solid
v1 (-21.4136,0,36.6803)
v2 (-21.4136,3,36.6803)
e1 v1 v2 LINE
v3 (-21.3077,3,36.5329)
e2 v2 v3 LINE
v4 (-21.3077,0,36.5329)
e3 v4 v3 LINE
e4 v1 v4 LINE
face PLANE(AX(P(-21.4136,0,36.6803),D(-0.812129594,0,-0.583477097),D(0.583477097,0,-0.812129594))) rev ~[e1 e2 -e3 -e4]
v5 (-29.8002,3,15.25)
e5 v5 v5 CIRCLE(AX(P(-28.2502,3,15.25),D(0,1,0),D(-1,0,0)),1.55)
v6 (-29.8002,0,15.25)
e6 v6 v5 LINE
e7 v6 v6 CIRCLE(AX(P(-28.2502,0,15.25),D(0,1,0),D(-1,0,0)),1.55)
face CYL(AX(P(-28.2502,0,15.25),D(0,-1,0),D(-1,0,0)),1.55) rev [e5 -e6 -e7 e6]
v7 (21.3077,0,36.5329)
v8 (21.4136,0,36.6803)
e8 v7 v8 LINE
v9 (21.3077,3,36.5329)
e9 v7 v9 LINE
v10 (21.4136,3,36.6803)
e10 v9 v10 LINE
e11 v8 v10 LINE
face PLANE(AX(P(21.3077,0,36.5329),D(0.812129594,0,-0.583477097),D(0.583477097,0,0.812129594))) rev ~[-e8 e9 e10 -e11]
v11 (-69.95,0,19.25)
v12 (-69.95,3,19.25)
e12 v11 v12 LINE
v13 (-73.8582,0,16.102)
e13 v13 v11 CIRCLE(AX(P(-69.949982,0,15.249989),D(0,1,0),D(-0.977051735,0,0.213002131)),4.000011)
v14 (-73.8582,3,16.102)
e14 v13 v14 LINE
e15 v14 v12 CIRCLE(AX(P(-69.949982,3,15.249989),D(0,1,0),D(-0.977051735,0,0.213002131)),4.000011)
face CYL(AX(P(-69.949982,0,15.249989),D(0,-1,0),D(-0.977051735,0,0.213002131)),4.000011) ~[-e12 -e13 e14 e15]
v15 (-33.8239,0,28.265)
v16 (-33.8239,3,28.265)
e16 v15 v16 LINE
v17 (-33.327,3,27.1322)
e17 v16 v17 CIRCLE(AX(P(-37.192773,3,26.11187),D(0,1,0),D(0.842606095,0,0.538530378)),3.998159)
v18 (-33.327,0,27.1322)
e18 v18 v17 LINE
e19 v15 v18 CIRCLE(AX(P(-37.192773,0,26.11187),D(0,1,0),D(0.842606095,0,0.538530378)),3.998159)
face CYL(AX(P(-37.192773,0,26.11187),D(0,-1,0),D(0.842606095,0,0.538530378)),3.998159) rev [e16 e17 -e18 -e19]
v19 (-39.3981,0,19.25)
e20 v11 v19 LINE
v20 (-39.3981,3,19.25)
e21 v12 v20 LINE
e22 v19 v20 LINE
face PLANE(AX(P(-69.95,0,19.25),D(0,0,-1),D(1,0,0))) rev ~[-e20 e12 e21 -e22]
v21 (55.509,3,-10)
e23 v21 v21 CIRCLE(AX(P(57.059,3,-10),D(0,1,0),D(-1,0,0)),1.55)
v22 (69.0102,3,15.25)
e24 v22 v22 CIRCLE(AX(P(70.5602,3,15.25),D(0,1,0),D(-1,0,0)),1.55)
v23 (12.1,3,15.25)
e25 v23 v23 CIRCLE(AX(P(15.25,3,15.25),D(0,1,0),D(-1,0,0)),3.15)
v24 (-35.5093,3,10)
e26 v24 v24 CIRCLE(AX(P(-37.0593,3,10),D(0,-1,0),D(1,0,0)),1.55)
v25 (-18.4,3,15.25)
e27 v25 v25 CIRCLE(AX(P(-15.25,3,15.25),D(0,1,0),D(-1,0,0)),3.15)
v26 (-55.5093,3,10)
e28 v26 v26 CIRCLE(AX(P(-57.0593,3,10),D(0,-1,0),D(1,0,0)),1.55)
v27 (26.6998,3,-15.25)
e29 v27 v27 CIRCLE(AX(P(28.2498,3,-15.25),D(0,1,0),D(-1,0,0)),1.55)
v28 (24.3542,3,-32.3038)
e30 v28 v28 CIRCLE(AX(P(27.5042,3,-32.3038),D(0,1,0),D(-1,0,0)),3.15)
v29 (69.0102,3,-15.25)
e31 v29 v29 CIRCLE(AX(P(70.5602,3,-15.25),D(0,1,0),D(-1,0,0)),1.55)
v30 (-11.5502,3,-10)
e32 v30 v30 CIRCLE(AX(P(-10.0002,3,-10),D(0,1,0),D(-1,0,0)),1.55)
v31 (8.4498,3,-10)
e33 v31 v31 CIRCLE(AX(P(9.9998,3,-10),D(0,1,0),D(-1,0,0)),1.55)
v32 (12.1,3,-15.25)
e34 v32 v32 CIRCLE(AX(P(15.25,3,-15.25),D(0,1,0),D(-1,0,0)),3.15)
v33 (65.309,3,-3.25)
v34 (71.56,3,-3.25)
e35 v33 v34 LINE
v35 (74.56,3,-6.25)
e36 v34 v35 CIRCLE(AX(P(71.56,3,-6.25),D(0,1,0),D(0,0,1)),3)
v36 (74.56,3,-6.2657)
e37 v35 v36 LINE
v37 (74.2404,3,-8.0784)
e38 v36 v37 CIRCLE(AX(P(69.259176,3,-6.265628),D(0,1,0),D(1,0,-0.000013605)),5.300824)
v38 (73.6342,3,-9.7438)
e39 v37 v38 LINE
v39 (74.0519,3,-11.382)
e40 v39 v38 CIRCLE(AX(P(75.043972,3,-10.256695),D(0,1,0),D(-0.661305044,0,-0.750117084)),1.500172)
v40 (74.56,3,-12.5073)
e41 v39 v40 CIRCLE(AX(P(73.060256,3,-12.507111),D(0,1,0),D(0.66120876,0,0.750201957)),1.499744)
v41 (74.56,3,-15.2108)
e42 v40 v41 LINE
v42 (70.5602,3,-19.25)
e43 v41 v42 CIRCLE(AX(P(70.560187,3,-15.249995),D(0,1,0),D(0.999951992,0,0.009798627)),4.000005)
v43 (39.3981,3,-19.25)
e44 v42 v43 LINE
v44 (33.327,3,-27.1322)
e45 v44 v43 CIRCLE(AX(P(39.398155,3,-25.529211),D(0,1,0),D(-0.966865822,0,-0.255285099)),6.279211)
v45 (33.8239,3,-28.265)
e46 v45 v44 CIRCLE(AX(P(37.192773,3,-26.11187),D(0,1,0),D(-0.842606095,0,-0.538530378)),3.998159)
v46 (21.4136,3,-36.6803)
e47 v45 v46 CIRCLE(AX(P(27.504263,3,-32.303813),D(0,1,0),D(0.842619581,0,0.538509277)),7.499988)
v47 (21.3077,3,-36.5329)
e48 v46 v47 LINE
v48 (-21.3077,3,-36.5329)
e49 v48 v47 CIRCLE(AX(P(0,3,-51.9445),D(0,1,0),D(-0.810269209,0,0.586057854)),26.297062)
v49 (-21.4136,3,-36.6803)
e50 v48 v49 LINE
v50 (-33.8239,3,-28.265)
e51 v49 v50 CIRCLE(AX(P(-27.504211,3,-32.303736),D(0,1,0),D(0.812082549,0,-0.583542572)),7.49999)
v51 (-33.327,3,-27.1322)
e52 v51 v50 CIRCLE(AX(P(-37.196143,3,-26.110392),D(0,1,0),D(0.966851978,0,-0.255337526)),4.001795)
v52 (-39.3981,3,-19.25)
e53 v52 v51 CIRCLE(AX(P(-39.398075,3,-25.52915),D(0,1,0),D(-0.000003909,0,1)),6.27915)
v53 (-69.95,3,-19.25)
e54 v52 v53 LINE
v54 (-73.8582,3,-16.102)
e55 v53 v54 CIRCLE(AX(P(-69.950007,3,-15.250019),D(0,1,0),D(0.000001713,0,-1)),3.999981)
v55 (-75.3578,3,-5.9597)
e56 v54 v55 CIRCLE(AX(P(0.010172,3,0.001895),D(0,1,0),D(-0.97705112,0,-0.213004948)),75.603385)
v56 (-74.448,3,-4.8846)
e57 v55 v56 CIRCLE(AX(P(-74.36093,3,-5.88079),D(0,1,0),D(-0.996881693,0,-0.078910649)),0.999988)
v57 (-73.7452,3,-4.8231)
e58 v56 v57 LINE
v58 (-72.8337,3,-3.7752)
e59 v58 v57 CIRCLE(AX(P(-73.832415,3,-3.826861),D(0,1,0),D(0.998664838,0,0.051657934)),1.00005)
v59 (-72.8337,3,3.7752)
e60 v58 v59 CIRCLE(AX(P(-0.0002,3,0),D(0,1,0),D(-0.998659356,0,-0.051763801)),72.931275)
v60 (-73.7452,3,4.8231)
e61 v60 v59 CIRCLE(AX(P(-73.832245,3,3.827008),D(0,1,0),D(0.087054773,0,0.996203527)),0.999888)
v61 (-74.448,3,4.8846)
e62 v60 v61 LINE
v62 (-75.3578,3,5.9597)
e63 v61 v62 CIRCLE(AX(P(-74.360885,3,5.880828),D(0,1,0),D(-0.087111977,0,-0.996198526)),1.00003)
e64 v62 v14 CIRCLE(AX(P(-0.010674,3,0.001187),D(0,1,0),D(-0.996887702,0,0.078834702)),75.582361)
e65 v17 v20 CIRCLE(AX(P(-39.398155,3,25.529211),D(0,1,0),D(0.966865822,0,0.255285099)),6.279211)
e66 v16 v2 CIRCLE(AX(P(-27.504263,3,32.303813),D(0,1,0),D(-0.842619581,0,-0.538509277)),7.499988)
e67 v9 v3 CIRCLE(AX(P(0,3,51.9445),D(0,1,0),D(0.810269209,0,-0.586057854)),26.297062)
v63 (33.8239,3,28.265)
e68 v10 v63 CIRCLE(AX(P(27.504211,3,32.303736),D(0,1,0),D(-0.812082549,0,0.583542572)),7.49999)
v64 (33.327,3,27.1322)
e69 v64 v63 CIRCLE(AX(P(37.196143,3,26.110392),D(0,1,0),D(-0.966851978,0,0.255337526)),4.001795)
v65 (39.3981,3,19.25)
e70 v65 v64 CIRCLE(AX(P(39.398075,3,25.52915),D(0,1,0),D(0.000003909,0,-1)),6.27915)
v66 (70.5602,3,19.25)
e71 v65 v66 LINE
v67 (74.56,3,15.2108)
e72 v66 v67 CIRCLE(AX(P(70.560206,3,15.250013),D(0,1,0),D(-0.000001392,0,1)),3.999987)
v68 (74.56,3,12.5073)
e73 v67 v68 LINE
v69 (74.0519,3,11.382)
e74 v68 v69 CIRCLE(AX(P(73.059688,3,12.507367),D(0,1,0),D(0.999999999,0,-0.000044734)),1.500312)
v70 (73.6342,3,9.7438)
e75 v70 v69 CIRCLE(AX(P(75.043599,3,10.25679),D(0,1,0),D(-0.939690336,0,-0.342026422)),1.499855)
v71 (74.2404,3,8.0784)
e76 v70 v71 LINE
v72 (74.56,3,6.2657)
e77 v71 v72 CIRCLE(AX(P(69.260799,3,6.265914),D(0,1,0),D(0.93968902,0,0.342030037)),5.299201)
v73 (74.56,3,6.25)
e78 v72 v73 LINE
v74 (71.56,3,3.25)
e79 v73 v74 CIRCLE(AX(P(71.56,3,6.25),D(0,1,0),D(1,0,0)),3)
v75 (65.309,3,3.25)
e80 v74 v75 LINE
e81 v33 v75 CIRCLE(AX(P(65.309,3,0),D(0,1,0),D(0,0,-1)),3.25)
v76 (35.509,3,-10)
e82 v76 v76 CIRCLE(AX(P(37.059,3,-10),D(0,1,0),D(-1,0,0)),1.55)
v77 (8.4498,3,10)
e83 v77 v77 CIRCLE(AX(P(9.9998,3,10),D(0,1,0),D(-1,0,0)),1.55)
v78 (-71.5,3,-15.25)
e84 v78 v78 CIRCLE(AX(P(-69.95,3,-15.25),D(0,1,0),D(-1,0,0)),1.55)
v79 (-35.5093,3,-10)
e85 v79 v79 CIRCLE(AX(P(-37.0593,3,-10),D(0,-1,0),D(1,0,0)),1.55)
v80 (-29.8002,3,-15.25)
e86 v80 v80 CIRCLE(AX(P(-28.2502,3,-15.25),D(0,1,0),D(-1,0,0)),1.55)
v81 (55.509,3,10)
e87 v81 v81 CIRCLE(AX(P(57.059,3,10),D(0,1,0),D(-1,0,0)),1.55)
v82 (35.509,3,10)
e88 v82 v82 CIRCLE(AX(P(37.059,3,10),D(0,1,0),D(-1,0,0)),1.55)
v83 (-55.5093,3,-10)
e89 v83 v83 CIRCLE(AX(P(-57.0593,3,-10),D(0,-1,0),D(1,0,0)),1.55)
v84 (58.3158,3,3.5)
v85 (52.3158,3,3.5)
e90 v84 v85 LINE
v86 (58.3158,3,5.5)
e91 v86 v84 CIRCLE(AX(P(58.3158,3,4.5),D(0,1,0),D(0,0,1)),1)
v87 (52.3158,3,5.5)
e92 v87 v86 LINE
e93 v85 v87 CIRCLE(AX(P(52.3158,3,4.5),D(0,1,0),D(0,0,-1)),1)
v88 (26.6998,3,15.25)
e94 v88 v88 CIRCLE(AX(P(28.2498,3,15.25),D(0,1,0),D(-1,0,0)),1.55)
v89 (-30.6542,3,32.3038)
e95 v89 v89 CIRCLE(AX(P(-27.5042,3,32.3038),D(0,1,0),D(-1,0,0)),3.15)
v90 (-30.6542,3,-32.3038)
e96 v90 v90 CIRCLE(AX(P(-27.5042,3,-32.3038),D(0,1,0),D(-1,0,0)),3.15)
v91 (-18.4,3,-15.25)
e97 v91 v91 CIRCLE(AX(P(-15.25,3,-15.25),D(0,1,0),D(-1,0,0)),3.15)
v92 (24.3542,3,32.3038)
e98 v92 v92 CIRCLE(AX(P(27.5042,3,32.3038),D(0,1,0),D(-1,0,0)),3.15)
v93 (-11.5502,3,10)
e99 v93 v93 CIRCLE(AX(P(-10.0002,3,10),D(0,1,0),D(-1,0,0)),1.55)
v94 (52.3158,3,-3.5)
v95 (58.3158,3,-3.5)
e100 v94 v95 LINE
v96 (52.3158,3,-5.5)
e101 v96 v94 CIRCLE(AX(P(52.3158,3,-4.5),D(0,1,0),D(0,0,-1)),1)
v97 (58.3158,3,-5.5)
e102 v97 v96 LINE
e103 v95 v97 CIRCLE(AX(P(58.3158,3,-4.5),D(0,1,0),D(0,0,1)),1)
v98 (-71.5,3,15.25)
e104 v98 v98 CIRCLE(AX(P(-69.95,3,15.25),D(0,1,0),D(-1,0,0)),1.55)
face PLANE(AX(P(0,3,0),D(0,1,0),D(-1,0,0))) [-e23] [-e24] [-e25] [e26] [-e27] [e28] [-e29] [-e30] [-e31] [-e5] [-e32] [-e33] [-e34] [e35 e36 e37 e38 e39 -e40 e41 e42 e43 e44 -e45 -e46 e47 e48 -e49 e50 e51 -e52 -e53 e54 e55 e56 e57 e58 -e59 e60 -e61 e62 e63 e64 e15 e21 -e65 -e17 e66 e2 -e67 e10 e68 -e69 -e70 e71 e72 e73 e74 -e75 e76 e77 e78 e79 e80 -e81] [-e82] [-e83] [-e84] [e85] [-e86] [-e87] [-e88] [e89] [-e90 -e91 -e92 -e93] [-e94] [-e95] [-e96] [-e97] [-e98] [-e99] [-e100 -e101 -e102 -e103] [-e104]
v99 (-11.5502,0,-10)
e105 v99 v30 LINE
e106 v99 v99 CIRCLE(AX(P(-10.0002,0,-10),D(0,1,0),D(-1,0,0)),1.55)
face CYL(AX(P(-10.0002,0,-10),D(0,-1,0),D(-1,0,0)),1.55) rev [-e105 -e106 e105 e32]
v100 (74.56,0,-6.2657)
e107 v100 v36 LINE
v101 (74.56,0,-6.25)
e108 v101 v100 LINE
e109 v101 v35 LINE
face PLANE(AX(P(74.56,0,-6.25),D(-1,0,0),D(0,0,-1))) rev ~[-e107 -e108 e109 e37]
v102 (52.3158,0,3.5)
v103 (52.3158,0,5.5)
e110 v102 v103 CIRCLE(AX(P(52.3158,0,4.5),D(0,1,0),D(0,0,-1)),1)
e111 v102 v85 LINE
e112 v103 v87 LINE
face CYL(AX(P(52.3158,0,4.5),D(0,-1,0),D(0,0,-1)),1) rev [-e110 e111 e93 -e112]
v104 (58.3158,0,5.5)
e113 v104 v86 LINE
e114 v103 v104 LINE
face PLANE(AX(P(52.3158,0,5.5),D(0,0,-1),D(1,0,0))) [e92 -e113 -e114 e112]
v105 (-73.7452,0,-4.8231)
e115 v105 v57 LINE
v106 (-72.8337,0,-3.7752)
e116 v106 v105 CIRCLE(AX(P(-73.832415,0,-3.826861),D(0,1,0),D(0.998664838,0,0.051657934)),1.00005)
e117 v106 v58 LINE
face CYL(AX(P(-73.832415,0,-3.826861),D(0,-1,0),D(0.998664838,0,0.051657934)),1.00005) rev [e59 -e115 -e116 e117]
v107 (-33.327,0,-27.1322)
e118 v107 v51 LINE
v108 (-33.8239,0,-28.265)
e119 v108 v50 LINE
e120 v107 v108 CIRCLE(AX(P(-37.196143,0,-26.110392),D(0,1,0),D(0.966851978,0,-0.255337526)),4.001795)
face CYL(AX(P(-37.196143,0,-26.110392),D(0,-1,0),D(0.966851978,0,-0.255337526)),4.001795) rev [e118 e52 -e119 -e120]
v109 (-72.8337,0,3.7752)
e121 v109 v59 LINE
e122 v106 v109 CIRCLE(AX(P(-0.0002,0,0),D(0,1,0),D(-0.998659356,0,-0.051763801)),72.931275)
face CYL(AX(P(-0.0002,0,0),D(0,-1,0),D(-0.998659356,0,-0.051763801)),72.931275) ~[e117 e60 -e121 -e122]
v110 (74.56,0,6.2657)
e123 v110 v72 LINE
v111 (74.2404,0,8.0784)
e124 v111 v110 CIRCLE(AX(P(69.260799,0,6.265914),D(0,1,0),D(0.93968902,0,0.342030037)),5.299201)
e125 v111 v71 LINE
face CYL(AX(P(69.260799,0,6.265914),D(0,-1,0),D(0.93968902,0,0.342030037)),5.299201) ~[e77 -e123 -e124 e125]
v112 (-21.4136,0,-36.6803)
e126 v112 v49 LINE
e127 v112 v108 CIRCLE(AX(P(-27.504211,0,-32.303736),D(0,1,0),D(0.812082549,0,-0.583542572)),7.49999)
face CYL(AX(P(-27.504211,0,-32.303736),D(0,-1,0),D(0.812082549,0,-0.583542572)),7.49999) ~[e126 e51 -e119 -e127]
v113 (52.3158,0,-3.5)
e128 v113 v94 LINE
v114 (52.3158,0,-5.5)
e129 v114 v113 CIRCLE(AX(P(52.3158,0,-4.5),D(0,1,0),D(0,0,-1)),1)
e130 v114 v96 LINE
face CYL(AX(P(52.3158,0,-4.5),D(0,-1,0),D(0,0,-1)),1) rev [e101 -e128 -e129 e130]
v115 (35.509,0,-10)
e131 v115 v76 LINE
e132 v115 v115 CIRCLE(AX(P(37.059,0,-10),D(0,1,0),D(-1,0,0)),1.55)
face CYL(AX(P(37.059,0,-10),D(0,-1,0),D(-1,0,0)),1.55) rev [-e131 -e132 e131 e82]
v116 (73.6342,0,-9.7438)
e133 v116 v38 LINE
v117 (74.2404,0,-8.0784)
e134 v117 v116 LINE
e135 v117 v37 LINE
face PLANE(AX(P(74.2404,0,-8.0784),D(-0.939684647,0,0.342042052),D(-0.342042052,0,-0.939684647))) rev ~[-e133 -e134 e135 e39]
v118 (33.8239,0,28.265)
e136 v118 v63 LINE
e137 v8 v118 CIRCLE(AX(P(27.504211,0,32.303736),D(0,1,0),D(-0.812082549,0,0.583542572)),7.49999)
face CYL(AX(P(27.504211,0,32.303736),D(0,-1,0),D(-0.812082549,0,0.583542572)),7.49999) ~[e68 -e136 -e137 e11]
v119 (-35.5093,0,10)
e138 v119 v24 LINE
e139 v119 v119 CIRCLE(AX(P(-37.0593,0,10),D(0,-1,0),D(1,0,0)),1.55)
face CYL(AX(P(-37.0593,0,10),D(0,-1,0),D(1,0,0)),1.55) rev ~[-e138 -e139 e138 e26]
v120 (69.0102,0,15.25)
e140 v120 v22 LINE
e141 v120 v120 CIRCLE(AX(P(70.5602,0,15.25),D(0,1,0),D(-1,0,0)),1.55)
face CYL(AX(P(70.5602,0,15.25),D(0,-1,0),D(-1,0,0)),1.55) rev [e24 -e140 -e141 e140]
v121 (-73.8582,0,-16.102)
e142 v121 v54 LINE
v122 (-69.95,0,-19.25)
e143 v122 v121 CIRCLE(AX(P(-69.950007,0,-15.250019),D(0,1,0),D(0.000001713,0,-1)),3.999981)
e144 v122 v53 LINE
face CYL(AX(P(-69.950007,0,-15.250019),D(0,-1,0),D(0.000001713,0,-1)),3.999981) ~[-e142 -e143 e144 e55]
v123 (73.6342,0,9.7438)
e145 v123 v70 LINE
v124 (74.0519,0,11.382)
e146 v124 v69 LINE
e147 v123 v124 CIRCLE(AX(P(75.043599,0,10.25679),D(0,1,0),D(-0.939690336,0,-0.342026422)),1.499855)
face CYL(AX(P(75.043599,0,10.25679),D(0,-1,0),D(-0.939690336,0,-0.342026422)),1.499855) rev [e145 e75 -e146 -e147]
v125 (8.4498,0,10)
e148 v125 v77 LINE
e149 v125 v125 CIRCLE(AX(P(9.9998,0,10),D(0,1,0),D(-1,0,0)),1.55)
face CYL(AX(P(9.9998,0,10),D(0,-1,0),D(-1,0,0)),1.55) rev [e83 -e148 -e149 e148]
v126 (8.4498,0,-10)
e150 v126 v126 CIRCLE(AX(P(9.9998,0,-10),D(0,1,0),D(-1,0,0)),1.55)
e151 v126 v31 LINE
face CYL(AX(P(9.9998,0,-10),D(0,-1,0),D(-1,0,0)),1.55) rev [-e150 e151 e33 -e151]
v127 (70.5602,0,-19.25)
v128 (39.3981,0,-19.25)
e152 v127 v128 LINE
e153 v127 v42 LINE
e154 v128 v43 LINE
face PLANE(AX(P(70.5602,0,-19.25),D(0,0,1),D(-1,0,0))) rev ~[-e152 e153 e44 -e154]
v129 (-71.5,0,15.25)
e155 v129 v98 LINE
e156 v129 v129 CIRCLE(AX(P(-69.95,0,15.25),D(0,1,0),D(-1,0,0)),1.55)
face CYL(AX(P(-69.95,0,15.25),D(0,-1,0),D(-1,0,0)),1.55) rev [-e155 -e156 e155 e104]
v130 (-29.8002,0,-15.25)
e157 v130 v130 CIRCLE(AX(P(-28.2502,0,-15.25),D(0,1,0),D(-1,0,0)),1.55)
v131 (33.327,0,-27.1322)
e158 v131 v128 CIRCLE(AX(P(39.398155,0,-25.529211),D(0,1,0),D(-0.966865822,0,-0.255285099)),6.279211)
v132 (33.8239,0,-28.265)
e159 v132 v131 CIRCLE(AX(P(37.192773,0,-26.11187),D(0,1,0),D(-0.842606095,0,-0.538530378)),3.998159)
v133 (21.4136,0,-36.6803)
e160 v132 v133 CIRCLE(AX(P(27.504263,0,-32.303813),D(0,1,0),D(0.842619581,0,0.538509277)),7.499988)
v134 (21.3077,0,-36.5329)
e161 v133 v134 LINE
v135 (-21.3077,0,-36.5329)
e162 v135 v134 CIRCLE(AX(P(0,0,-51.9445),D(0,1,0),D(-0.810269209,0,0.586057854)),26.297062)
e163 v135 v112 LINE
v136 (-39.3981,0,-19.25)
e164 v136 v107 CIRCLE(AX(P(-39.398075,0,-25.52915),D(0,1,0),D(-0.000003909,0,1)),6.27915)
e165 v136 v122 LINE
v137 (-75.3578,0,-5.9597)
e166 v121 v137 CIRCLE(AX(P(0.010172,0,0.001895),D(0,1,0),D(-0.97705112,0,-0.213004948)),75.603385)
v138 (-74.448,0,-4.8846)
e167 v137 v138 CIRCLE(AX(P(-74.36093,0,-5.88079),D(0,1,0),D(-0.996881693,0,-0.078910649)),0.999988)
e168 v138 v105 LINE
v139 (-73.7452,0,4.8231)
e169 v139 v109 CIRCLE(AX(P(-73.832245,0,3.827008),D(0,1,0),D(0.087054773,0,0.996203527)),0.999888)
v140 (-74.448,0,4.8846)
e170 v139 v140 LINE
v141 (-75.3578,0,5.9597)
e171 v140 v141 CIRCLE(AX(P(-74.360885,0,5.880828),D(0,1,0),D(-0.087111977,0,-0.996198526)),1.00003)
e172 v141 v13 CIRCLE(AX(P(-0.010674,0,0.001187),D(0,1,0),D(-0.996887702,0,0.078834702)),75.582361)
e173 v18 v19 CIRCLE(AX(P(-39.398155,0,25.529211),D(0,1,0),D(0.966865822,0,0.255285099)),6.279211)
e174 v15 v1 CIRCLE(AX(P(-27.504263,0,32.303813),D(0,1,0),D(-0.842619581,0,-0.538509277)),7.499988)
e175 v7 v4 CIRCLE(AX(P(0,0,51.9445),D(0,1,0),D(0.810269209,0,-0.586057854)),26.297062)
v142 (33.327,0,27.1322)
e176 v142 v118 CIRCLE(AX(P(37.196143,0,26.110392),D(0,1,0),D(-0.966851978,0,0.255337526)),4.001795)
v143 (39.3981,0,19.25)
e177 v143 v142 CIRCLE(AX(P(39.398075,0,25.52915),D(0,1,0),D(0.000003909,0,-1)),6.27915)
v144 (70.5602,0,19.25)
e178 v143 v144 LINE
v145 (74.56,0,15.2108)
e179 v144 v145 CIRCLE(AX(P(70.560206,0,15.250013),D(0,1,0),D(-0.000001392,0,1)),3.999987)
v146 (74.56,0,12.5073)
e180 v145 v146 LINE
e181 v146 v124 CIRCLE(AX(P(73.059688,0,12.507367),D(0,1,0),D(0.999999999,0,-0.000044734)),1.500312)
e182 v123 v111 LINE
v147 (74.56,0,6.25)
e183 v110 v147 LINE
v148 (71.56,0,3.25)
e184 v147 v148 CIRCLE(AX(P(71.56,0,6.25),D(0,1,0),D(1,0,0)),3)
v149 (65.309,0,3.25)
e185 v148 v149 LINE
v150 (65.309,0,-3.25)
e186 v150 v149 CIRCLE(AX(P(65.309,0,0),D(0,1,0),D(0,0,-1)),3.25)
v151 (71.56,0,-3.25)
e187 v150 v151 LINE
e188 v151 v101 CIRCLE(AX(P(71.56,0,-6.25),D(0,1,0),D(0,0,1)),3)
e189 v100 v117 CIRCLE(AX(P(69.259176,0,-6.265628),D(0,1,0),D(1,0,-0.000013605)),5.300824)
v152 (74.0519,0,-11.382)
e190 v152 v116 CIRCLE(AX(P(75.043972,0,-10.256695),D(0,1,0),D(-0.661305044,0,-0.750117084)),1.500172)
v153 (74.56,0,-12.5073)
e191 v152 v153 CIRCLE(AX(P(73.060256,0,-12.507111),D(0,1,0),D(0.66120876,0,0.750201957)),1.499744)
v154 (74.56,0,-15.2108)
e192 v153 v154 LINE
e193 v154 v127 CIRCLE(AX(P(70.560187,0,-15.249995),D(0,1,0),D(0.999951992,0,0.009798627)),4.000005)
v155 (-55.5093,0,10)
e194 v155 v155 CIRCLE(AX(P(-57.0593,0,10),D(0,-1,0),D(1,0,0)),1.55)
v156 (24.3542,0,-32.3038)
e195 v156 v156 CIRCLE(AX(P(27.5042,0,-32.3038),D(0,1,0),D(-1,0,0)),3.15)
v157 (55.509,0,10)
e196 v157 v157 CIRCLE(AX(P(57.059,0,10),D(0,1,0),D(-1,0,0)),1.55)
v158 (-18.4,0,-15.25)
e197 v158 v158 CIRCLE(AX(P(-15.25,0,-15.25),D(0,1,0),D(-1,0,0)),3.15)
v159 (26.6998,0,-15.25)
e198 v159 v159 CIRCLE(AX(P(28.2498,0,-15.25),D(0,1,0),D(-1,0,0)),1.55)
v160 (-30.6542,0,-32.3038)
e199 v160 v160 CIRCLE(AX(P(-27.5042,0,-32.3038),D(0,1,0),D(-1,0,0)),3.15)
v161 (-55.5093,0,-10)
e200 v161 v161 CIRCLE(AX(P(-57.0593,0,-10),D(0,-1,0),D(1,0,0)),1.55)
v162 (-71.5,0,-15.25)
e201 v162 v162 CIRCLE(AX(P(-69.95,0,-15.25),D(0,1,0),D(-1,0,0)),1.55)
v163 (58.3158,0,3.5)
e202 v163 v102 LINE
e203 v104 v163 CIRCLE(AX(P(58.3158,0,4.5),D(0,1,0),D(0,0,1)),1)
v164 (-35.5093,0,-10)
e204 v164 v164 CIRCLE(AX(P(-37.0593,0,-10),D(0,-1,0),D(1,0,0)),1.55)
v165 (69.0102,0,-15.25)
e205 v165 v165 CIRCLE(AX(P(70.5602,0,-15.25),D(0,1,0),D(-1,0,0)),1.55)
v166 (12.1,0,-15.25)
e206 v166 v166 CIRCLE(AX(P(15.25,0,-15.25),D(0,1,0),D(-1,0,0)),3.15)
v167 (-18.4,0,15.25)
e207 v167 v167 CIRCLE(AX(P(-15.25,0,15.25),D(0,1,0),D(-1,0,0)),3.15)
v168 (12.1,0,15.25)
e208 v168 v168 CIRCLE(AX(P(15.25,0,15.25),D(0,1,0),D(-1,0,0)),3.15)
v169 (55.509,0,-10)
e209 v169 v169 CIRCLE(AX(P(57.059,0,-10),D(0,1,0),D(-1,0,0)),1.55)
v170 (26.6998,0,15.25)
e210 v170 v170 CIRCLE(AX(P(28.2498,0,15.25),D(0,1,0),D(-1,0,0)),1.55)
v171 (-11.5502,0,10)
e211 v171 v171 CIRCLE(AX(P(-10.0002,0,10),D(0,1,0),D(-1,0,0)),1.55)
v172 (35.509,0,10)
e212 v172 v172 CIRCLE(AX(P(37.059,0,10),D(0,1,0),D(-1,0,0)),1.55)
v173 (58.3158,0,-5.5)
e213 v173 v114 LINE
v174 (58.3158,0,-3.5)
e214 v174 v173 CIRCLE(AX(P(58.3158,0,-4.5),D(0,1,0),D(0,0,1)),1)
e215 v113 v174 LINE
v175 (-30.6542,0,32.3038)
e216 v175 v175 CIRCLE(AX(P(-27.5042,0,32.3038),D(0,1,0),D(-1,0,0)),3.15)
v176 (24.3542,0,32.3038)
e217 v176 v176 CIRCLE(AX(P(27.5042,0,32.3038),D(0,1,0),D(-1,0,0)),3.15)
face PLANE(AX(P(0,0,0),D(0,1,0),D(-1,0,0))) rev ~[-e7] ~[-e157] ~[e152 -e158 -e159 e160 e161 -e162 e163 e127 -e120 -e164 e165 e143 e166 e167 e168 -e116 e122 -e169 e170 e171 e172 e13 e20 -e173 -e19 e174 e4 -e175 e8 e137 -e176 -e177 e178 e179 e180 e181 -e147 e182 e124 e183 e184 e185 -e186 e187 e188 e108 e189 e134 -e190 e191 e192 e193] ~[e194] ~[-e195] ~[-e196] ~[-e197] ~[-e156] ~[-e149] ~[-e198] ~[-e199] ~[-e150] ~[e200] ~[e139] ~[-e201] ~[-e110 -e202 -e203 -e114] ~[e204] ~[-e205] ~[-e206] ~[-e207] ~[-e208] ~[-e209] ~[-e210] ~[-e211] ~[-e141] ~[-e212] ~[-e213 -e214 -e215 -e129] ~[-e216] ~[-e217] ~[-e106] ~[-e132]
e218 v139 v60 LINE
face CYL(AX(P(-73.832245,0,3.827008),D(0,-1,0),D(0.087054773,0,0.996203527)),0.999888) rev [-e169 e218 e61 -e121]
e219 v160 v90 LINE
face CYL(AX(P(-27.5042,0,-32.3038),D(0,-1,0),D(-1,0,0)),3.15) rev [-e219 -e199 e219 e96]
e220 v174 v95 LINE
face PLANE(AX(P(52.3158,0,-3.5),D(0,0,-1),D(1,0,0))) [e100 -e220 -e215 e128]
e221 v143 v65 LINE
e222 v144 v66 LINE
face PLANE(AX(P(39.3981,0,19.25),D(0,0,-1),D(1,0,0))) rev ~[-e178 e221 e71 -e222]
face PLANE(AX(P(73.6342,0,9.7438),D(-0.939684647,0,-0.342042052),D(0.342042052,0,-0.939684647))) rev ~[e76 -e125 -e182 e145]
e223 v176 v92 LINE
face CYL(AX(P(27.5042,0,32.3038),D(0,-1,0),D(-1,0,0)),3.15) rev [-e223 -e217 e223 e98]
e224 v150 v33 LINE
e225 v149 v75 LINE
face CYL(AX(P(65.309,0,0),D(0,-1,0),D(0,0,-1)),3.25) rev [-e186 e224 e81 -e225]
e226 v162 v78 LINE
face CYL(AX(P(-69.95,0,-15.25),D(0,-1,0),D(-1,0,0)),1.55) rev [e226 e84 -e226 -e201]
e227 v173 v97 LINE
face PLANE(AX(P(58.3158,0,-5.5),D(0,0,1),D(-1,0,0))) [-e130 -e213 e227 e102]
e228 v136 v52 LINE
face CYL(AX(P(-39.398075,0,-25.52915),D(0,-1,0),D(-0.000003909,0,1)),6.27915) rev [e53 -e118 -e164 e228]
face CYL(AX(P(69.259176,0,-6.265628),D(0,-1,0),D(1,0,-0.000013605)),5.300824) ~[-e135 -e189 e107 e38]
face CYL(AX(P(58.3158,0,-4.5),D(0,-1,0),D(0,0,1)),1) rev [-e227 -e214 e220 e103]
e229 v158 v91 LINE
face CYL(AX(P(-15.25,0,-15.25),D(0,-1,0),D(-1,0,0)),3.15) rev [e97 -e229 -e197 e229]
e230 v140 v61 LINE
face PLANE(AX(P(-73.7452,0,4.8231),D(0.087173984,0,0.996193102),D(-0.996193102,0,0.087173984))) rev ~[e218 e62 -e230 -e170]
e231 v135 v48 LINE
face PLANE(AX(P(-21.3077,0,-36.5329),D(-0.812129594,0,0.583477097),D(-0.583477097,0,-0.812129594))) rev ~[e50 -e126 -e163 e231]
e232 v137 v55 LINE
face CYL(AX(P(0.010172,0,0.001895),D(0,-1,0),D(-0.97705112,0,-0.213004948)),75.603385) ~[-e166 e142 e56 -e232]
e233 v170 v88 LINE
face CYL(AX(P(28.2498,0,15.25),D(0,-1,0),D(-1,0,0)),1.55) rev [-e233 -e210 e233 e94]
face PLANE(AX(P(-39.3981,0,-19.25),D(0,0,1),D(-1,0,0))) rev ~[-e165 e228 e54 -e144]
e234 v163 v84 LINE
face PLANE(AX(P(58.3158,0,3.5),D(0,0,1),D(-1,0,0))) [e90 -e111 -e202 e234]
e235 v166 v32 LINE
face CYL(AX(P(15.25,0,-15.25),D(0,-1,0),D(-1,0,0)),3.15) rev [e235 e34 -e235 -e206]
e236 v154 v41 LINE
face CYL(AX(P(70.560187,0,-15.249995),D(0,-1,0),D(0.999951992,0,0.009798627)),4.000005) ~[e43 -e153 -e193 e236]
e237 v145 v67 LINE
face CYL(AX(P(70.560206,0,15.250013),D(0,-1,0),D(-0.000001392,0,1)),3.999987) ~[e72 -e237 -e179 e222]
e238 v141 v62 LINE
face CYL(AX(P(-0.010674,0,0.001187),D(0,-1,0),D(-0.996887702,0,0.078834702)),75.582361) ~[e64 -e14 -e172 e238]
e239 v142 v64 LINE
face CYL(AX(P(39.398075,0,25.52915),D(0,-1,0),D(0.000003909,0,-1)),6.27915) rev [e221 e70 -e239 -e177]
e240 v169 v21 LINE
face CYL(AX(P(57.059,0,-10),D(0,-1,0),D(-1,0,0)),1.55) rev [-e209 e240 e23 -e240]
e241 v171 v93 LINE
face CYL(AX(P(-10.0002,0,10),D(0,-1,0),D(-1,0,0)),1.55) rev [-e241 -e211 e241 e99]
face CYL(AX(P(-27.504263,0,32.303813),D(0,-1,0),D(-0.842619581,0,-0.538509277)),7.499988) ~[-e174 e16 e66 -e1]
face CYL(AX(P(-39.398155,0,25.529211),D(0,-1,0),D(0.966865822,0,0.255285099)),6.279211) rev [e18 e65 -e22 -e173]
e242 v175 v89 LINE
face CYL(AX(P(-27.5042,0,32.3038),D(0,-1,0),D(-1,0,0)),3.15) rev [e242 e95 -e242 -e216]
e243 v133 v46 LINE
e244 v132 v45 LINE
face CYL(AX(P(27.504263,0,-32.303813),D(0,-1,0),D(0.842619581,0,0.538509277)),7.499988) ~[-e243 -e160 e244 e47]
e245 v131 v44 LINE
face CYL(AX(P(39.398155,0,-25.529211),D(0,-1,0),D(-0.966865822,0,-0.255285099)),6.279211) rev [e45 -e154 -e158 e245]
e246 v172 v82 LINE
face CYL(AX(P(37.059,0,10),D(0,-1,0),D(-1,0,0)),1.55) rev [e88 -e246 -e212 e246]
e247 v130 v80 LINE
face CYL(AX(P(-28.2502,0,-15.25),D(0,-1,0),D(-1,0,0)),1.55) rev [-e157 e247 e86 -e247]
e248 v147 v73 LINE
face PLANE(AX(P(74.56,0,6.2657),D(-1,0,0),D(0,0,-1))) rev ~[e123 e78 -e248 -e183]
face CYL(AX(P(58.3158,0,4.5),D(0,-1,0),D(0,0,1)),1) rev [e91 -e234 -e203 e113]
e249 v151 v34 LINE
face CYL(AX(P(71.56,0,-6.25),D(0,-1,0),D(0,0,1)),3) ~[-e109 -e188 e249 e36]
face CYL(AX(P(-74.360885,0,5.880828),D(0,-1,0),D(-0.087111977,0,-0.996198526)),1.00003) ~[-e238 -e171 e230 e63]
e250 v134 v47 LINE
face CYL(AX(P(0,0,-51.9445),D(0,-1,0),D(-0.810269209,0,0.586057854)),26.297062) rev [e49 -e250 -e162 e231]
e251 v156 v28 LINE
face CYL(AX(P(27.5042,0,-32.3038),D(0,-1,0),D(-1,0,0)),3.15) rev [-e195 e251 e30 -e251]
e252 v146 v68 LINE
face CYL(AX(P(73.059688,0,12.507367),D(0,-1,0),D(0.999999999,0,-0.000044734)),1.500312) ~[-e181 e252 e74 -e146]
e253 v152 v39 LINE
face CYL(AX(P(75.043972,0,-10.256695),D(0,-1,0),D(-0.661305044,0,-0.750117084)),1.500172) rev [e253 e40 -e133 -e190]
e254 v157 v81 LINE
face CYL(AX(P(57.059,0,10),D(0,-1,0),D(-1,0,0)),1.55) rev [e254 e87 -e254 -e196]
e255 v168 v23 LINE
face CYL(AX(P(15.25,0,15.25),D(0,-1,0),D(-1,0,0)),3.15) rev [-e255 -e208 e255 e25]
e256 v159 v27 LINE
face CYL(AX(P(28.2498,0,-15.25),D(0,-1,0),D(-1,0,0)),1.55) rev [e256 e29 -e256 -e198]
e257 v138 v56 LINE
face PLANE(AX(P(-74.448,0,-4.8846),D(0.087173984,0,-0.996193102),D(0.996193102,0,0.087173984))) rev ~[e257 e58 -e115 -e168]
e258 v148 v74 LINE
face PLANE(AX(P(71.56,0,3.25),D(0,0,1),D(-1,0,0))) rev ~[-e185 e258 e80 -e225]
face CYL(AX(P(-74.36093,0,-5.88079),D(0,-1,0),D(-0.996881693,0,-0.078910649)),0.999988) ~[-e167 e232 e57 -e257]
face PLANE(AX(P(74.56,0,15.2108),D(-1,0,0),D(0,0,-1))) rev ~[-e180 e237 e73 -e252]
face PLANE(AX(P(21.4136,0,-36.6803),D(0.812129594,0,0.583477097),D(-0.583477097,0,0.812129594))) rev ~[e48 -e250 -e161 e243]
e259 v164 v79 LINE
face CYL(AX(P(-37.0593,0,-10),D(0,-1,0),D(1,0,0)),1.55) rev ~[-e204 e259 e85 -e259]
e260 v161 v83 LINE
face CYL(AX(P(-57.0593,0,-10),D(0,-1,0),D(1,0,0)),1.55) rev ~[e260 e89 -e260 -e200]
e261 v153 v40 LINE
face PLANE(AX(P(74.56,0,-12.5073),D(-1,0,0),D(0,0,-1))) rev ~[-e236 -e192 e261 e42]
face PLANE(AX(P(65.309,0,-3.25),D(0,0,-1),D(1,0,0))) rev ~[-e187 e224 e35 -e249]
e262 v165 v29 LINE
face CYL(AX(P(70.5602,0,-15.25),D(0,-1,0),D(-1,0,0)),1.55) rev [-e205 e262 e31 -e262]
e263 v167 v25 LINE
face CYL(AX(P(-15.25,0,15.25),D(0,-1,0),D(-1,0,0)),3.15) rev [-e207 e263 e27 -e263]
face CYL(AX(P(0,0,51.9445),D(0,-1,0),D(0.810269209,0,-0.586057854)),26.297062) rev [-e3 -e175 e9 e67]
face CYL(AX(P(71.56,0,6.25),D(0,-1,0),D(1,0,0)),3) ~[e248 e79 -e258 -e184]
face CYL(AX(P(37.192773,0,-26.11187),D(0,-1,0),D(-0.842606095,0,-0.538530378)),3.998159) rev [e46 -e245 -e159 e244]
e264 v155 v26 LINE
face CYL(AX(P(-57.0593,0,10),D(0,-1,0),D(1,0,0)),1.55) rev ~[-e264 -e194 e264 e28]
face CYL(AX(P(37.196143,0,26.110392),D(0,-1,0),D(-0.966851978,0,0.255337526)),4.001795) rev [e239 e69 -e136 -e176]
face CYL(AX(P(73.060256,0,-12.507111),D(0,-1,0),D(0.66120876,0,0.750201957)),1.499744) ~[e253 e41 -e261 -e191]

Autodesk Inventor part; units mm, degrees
ref_plane "YZ Plane" through (0, 0, 0) normal (1, 0, 0) x (0, 1, 0)
ref_plane "XZ Plane" through (0, 0, 0) normal (0, 1, 0) x (-1, 0, 0)
ref_plane "XY Plane" through (0, 0, 0) normal (0, 0, 1) x (1, 0, 0)
sketch "Sketch1" plane through (0, 0, 0) normal (0, 1, 0) x (-1, 0, 0)
  arc A0 (-33.8239, -28.265) -> (-21.4136, -36.6803) centre (-27.5042, -32.3038) ccw
  line L0 (-21.4136, -36.6803) -> (-21.3077, -36.5329)
  arc A1 (21.3077, -36.5329) -> (-21.3077, -36.5329) centre (0, -51.9445) ccw
  line L1 (21.3077, -36.5329) -> (21.4136, -36.6803)
  arc A2 (21.4136, -36.6803) -> (33.8239, -28.265) centre (27.5042, -32.3038) ccw
  arc A3 (33.327, -27.1322) -> (33.8239, -28.265) centre (37.1944, -26.111) ccw
  arc A4 (39.3981, -19.25) -> (33.327, -27.1322) centre (39.3981, -25.5292) ccw
  line L2 (39.3981, -19.25) -> (69.95, -19.25)
  arc A5 (69.95, -19.25) -> (73.8582, -16.102) centre (69.95, -15.25) ccw
  arc A6 (73.8582, -16.102) -> (75.3578, -5.9597) centre (0.0002, 0) ccw
  arc A7 (75.3578, -5.9597) -> (74.448, -4.8846) centre (74.3609, -5.8808) ccw
  line L3 (74.448, -4.8846) -> (73.7452, -4.8231)
  arc A8 (72.8337, -3.7752) -> (73.7452, -4.8231) centre (73.8323, -3.8269) ccw
  arc A9 (72.8337, -3.7752) -> (72.8337, 3.7752) centre (0.0002, 0) ccw
  arc A10 (73.7452, 4.8231) -> (72.8337, 3.7752) centre (73.8323, 3.8269) ccw
  line L4 (73.7452, 4.8231) -> (74.448, 4.8846)
  arc A11 (74.448, 4.8846) -> (75.3578, 5.9597) centre (74.3609, 5.8808) ccw
  arc A12 (75.3578, 5.9597) -> (73.8582, 16.102) centre (0.0002, 0) ccw
  arc A13 (73.8582, 16.102) -> (69.95, 19.25) centre (69.95, 15.25) ccw
  line L5 (69.95, 19.25) -> (39.3981, 19.25)
  arc A14 (33.327, 27.1322) -> (39.3981, 19.25) centre (39.3981, 25.5292) ccw
  arc A15 (33.8239, 28.265) -> (33.327, 27.1322) centre (37.1944, 26.111) ccw
  arc A16 (33.8239, 28.265) -> (21.4136, 36.6803) centre (27.5042, 32.3038) ccw
  line L6 (21.4136, 36.6803) -> (21.3077, 36.5329)
  arc A17 (-21.3077, 36.5329) -> (21.3077, 36.5329) centre (0, 51.9445) ccw
  line L7 (-21.3077, 36.5329) -> (-21.4136, 36.6803)
  arc A18 (-21.4136, 36.6803) -> (-33.8239, 28.265) centre (-27.5042, 32.3038) ccw
  arc A19 (-33.327, 27.1322) -> (-33.8239, 28.265) centre (-37.1944, 26.111) ccw
  arc A20 (-39.3981, 19.25) -> (-33.327, 27.1322) centre (-39.3981, 25.5292) ccw
  line L8 (-39.3981, 19.25) -> (-70.5602, 19.25)
  arc A21 (-70.5602, 19.25) -> (-74.56, 15.2108) centre (-70.5602, 15.25) ccw
  line L9 (-74.56, 15.2108) -> (-74.56, 12.5073)
  arc A22 (-74.56, 12.5073) -> (-74.0519, 11.382) centre (-73.06, 12.5073) ccw
  arc A23 (-73.6342, 9.7438) -> (-74.0519, 11.382) centre (-75.0438, 10.2568) ccw
  line L10 (-73.6342, 9.7438) -> (-74.2404, 8.0784)
  arc A24 (-74.2404, 8.0784) -> (-74.56, 6.2657) centre (-69.26, 6.2657) ccw
  line L11 (-74.56, 6.2657) -> (-74.56, 6.25)
  arc A25 (-74.56, 6.25) -> (-71.56, 3.25) centre (-71.56, 6.25) ccw
  line L12 (-71.56, 3.25) -> (-65.309, 3.25)
  arc A26 (-65.309, -3.25) -> (-65.309, 3.25) centre (-65.309, 0) ccw
  line L13 (-65.309, -3.25) -> (-71.56, -3.25)
  arc A27 (-71.56, -3.25) -> (-74.56, -6.25) centre (-71.56, -6.25) ccw
  line L14 (-74.56, -6.25) -> (-74.56, -6.2657)
  arc A28 (-74.56, -6.2657) -> (-74.2404, -8.0784) centre (-69.26, -6.2657) ccw
  line L15 (-74.2404, -8.0784) -> (-73.6342, -9.7438)
  arc A29 (-74.0519, -11.382) -> (-73.6342, -9.7438) centre (-75.0438, -10.2568) ccw
  arc A30 (-74.0519, -11.382) -> (-74.56, -12.5073) centre (-73.06, -12.5073) ccw
  line L16 (-74.56, -12.5073) -> (-74.56, -15.2108)
  arc A31 (-74.56, -15.2108) -> (-70.5602, -19.25) centre (-70.5602, -15.25) ccw
  line L17 (-70.5602, -19.25) -> (-39.3981, -19.25)
  arc A32 (-33.327, -27.1322) -> (-39.3981, -19.25) centre (-39.3981, -25.5292) ccw
  arc A33 (-33.8239, -28.265) -> (-33.327, -27.1322) centre (-37.1944, -26.111) ccw
  circle A34 centre (-27.5042, -32.3038) radius 2.25
  arc A35 (-8.7852, -24.3068) -> (-9.9324, -22.6685) centre (-9.3588, -23.4876) ccw
  line L18 (-11.9802, -24.1024) -> (-9.9324, -22.6685)
  line L19 (58.6187, 4.75) -> (65.1187, 4.75)
  arc A36 (65.1187, 4.75) -> (65.1187, 7.75) centre (65.1187, 6.25) ccw
  line L20 (65.1187, 7.75) -> (58.6187, 7.75)
  arc A37 (58.6187, 7.75) -> (58.6187, 4.75) centre (58.6187, 6.25) ccw
  line L21 (-18.0988, -21.6995) -> (-22.3003, -27.5465)
  arc A38 (-24.6553, -25.8542) -> (-22.3003, -27.5465) centre (-23.4778, -26.7004) ccw
  circle A39 centre (27.5042, -32.3038) radius 3.15
  arc A40 (-18.0988, -21.6995) -> (-20.4538, -20.0072) centre (-19.2763, -20.8534) ccw
  line L22 (65.1187, 1.5) -> (56.2002, 1.5)
  arc A41 (56.2002, 1.5) -> (56.2002, -1.5) centre (56.2002, 0) ccw
  line L23 (56.2002, -1.5) -> (65.1187, -1.5)
  arc A42 (65.1187, -1.5) -> (65.1187, 1.5) centre (65.1187, 0) ccw
  line L24 (30.3675, -6.2794) -> (31.6059, -1.9507)
  arc A43 (33.0971, -1.3777) -> (31.6059, -1.9507) centre (32.5673, -2.2258) ccw
  line L25 (33.0971, -1.3777) -> (38.3837, -4.6803)
  arc A44 (38.0092, -6.5163) -> (38.3837, -4.6803) centre (37.8539, -5.5284) ccw
  line L26 (38.0092, -6.5163) -> (31.4843, -7.5423)
  arc A45 (30.3675, -6.2794) -> (31.4843, -7.5423) centre (31.329, -6.5544) ccw
  arc A46 (-11.9802, -24.1024) -> (-10.8331, -25.7407) centre (-11.4067, -24.9216) ccw
  circle A47 centre (-27.5042, -32.3038) radius 3.15
  line L27 (44.5187, 14.25) -> (53.5187, 14.25)
  arc A48 (53.5187, 14.25) -> (54.5187, 14.25) centre (54.0187, 14.25) ccw
  line L28 (54.5187, 14.25) -> (54.5187, 16.25)
  arc A49 (54.5187, 16.25) -> (53.5187, 16.25) centre (54.0187, 16.25) ccw
  line L29 (53.5187, 16.25) -> (44.5187, 16.25)
  arc A50 (44.5187, 16.25) -> (43.5187, 16.25) centre (44.0187, 16.25) ccw
  line L30 (43.5187, 16.25) -> (43.5187, 14.25)
  arc A51 (43.5187, 14.25) -> (44.5187, 14.25) centre (44.0187, 14.25) ccw
  line L31 (-8.7852, -24.3068) -> (-10.8331, -25.7407)
  circle A52 centre (57.0593, 10) radius 1
  arc A53 (-22.3003, 27.5465) -> (-24.6553, 25.8542) centre (-23.4778, 26.7004) ccw
  circle A54 centre (69.95, 15.25) radius 1.55
  line L32 (-9.9324, 22.6685) -> (-11.9802, 24.1024)
  line L33 (-70.7795, -9.0168) -> (-71.6345, -6.6675)
  arc A55 (-71.6345, -6.6675) -> (-72.2754, -6.3687) centre (-72.1044, -6.8386) ccw
  line L34 (-72.2754, -6.3687) -> (-72.7452, -6.5397)
  arc A56 (-72.7452, -6.5397) -> (-73.044, -7.1806) centre (-72.5742, -7.0096) ccw
  line L35 (-73.044, -7.1806) -> (-72.189, -9.5298)
  arc A57 (-72.189, -9.5298) -> (-71.5481, -9.8286) centre (-71.7192, -9.3588) ccw
  line L36 (-71.5481, -9.8286) -> (-71.0783, -9.6576)
  arc A58 (-71.0783, -9.6576) -> (-70.7795, -9.0168) centre (-71.2493, -9.1878) ccw
  circle A59 centre (-9.9998, 10) radius 1.55
  circle A60 centre (-28.2498, 15.25) radius 1.55
  arc A61 (-38.0092, 6.5163) -> (-38.3837, 4.6803) centre (-37.8539, 5.5284) ccw
  line L37 (-38.0092, 6.5163) -> (-31.4843, 7.5423)
  arc A62 (-30.3675, 6.2794) -> (-31.4843, 7.5423) centre (-31.329, 6.5544) ccw
  line L38 (-30.3675, 6.2794) -> (-31.6059, 1.9507)
  arc A63 (-33.0971, 1.3777) -> (-31.6059, 1.9507) centre (-32.5673, 2.2258) ccw
  line L39 (-33.0971, 1.3777) -> (-38.3837, 4.6803)
  line L40 (-42.405, -16.5) -> (-62.405, -16.5)
  arc A64 (-62.405, -14.5) -> (-62.405, -16.5) centre (-62.405, -15.5) ccw
  line L41 (-62.405, -14.5) -> (-42.405, -14.5)
  arc A65 (-42.405, -16.5) -> (-42.405, -14.5) centre (-42.405, -15.5) ccw
  line L42 (-71.0783, 9.6576) -> (-71.5481, 9.8286)
  arc A66 (-71.5481, 9.8286) -> (-72.189, 9.5298) centre (-71.7192, 9.3588) ccw
  line L43 (-72.189, 9.5298) -> (-73.044, 7.1806)
  arc A67 (-73.044, 7.1806) -> (-72.7452, 6.5397) centre (-72.5742, 7.0096) ccw
  line L44 (-72.7452, 6.5397) -> (-72.2754, 6.3687)
  arc A68 (-72.2754, 6.3687) -> (-71.6345, 6.6675) centre (-72.1044, 6.8386) ccw
  line L45 (-71.6345, 6.6675) -> (-70.7795, 9.0168)
  arc A69 (-70.7795, 9.0168) -> (-71.0783, 9.6576) centre (-71.2493, 9.1878) ccw
  arc A70 (-58.3158, -3.5) -> (-58.3158, -5.5) centre (-58.3158, -4.5) ccw
  line L46 (-58.3158, -5.5) -> (-52.3158, -5.5)
  arc A71 (-52.3158, -5.5) -> (-52.3158, -3.5) centre (-52.3158, -4.5) ccw
  line L47 (-52.3158, -3.5) -> (-58.3158, -3.5)
  line L48 (-10.8331, 25.7407) -> (-8.7852, 24.3068)
  arc A72 (-20.4275, 8.2673) -> (-20.8836, 6.6042) centre (-20.4038, 7.3667) ccw
  line L49 (-20.4275, 8.2673) -> (-13.542, 8.3985)
  arc A73 (-12.661, 7.2587) -> (-13.542, 8.3985) centre (-13.5284, 7.4986) ccw
  line L50 (-12.661, 7.2587) -> (-13.6696, 3.6122)
  arc A74 (-15.1632, 3.0306) -> (-13.6696, 3.6122) centre (-14.6334, 3.8788) ccw
  line L51 (-15.1632, 3.0306) -> (-20.8836, 6.6042)
  arc A75 (-20.4538, 20.0072) -> (-18.0988, 21.6995) centre (-19.2763, 20.8534) ccw
  arc A76 (-10.8331, 25.7407) -> (-11.9802, 24.1024) centre (-11.4067, 24.9216) ccw
  circle A77 centre (-57.059, 10) radius 1.55
  arc A78 (-58.3158, 5.5) -> (-58.3158, 3.5) centre (-58.3158, 4.5) ccw
  line L52 (-58.3158, 3.5) -> (-52.3158, 3.5)
  arc A79 (-52.3158, 3.5) -> (-52.3158, 5.5) centre (-52.3158, 4.5) ccw
  line L53 (-52.3158, 5.5) -> (-58.3158, 5.5)
  line L54 (-24.6553, 25.8542) -> (-20.4538, 20.0072)
  arc A80 (-9.9324, 22.6685) -> (-8.7852, 24.3068) centre (-9.3588, 23.4876) ccw
  circle A81 centre (-15.25, 15.25) radius 2.25
  line L55 (-62.405, 16.5) -> (-42.405, 16.5)
  arc A82 (-42.405, 14.5) -> (-42.405, 16.5) centre (-42.405, 15.5) ccw
  line L56 (-42.405, 14.5) -> (-62.405, 14.5)
  arc A83 (-62.405, 16.5) -> (-62.405, 14.5) centre (-62.405, 15.5) ccw
  arc A84 (-44.4091, 0.275) -> (-44.4091, -0.275) centre (-43.4477, 0) ccw
  line L57 (-44.4091, 0.275) -> (-43.6501, 2.9283)
  arc A85 (-42.1588, 3.5013) -> (-43.6501, 2.9283) centre (-42.6886, 2.6532) ccw
  line L58 (-42.1588, 3.5013) -> (-37.9117, 0.8481)
  arc A86 (-37.9117, -0.8481) -> (-37.9117, 0.8481) centre (-38.4415, 0) ccw
  line L59 (-37.9117, -0.8481) -> (-42.1588, -3.5013)
  arc A87 (-43.6501, -2.9283) -> (-42.1588, -3.5013) centre (-42.6886, -2.6532) ccw
  line L60 (-43.6501, -2.9283) -> (-44.4091, -0.275)
  arc A88 (-7.8639, 3.9177) -> (-9.3575, 3.336) centre (-8.3937, 3.0696) ccw
  line L61 (-7.8639, 3.9177) -> (-2.9502, 0.8481)
  arc A89 (-2.9502, -0.8481) -> (-2.9502, 0.8481) centre (-3.48, 0) ccw
  line L62 (-2.9502, -0.8481) -> (-7.8639, -3.9177)
  arc A90 (-9.3575, -3.336) -> (-7.8639, -3.9177) centre (-8.3937, -3.0696) ccw
  line L63 (-9.3575, -3.336) -> (-10.206, -0.2664)
  arc A91 (-10.206, 0.2664) -> (-10.206, -0.2664) centre (-9.2421, 0) ccw
  line L64 (-10.206, 0.2664) -> (-9.3575, 3.336)
  circle A92 centre (-15.25, 15.25) radius 3.15
  circle A93 centre (-37.059, 10) radius 1.55
  circle A94 centre (-70.5602, 15.25) radius 1.55
  circle A95 centre (-70.5602, -15.25) radius 1.55
  circle A96 centre (28.2502, -15.25) radius 1.55
  line L65 (22.3006, -27.5465) -> (18.0991, -21.6995)
  line L66 (10.8331, -25.7407) -> (8.7852, -24.3068)
  arc A97 (10.8331, -25.7407) -> (11.9802, -24.1024) centre (11.4067, -24.9216) ccw
  arc A98 (-0.5298, 4.0525) -> (0.5298, 4.0525) centre (0, 4.9006) ccw
  line L67 (-0.5298, 4.0525) -> (-4.9689, 6.8256)
  arc A99 (-4.4965, 8.4889) -> (-4.9689, 6.8256) centre (-4.492, 7.5889) ccw
  line L68 (-4.4965, 8.4889) -> (4.4965, 8.4889)
  arc A100 (4.9689, 6.8256) -> (4.4965, 8.4889) centre (4.492, 7.5889) ccw
  line L69 (4.9689, 6.8256) -> (0.5298, 4.0525)
  line L70 (10.206, -0.2664) -> (9.3575, -3.336)
  arc A101 (7.8639, -3.9177) -> (9.3575, -3.336) centre (8.3937, -3.0696) ccw
  line L71 (7.8639, -3.9177) -> (2.9502, -0.8481)
  arc A102 (2.9502, 0.8481) -> (2.9502, -0.8481) centre (3.48, 0) ccw
  line L72 (2.9502, 0.8481) -> (7.8639, 3.9177)
  arc A103 (9.3575, 3.336) -> (7.8639, 3.9177) centre (8.3937, 3.0696) ccw
  line L73 (9.3575, 3.336) -> (10.206, 0.2664)
  arc A104 (10.206, -0.2664) -> (10.206, 0.2664) centre (9.2421, 0) ccw
  line L74 (27.1605, 4.3044) -> (28.3132, 0.275)
  arc A105 (28.3132, -0.275) -> (28.3132, 0.275) centre (27.3517, 0) ccw
  line L75 (28.3132, -0.275) -> (27.1605, -4.3044)
  arc A106 (25.6692, -4.8775) -> (27.1605, -4.3044) centre (26.199, -4.0294) ccw
  line L76 (25.6692, -4.8775) -> (19.2192, -0.8481)
  arc A107 (19.2192, 0.8481) -> (19.2192, -0.8481) centre (19.749, 0) ccw
  line L77 (19.2192, 0.8481) -> (25.6692, 4.8775)
  arc A108 (27.1605, 4.3044) -> (25.6692, 4.8775) centre (26.199, 4.0294) ccw
  arc A109 (-4.9689, -6.8256) -> (-4.4965, -8.4889) centre (-4.492, -7.5889) ccw
  line L78 (-4.9689, -6.8256) -> (-0.5298, -4.0525)
  arc A110 (0.5298, -4.0525) -> (-0.5298, -4.0525) centre (0, -4.9006) ccw
  line L79 (0.5298, -4.0525) -> (4.9689, -6.8256)
  arc A111 (4.4965, -8.4889) -> (4.9689, -6.8256) centre (4.492, -7.5889) ccw
  line L80 (4.4965, -8.4889) -> (-4.4965, -8.4889)
  circle A112 centre (10.0002, -10) radius 1.55
  arc A113 (20.4275, -8.2673) -> (20.8836, -6.6042) centre (20.4067, -7.3675) ccw
  ellipse E0 centre (0, 0) end of major axis (87.8993, 0) minor radius 8.5 (13.542, -8.3985) -> (20.4275, -8.2673) ccw
  line L81 (12.661, -7.2587) -> (13.6696, -3.6122)
  line L82 (15.1632, -3.0306) -> (20.8836, -6.6042)
  arc A114 (13.6696, 3.6122) -> (15.1632, 3.0306) centre (14.6334, 3.8788) ccw
  arc A115 (12.661, -7.2587) -> (13.542, -8.3985) centre (13.5284, -7.4986) ccw
  arc A116 (15.1632, -3.0306) -> (13.6696, -3.6122) centre (14.6334, -3.8788) ccw
  arc A117 (20.4541, -20.0072) -> (18.0991, -21.6995) centre (19.2766, -20.8534) ccw
  arc A118 (9.9324, -22.6685) -> (8.7852, -24.3068) centre (9.3588, -23.4876) ccw
  arc A119 (22.3006, -27.5465) -> (24.6556, -25.8542) centre (23.4781, -26.7004) ccw
  circle A120 centre (15.25, -15.25) radius 2.25
  line L83 (9.9324, -22.6685) -> (11.9802, -24.1024)
  line L84 (20.4541, -20.0072) -> (24.6556, -25.8542)
  circle A121 centre (27.5042, -32.3038) radius 2.25
  circle A122 centre (37.0593, 10) radius 1
  arc A123 (44.4091, -0.275) -> (44.4091, 0.275) centre (43.4477, 0) ccw
  line L85 (44.4091, -0.275) -> (43.6501, -2.9283)
  arc A124 (42.1588, -3.5013) -> (43.6501, -2.9283) centre (42.6886, -2.6532) ccw
  line L86 (42.1588, -3.5013) -> (37.9117, -0.8481)
  arc A125 (37.9117, 0.8481) -> (37.9117, -0.8481) centre (38.4415, 0) ccw
  line L87 (37.9117, 0.8481) -> (42.1588, 3.5013)
  arc A126 (43.6501, 2.9283) -> (42.1588, 3.5013) centre (42.6886, 2.6532) ccw
  line L88 (43.6501, 2.9283) -> (44.4091, 0.275)
  line L89 (31.6059, 1.9507) -> (30.3675, 6.2794)
  arc A127 (31.4843, 7.5423) -> (30.3675, 6.2794) centre (31.329, 6.5544) ccw
  line L90 (31.4843, 7.5423) -> (38.0092, 6.5163)
  arc A128 (38.3837, 4.6803) -> (38.0092, 6.5163) centre (37.8539, 5.5284) ccw
  line L91 (38.3837, 4.6803) -> (33.0971, 1.3777)
  arc A129 (31.6059, 1.9507) -> (33.0971, 1.3777) centre (32.5673, 2.2258) ccw
  ellipse E1 centre (0, 0) end of major axis (87.8993, 0) minor radius 8.5 (20.4275, 8.2673) -> (13.542, 8.3985) ccw
  line L92 (20.8836, 6.6042) -> (15.1632, 3.0306)
  arc A130 (20.8836, 6.6042) -> (20.4275, 8.2673) centre (20.4067, 7.3675) ccw
  arc A131 (13.542, 8.3985) -> (12.661, 7.2587) centre (13.5284, 7.4986) ccw
  circle A132 centre (10.0002, 10) radius 1.55
  line L93 (13.6696, 3.6122) -> (12.661, 7.2587)
  circle A133 centre (15.25, -15.25) radius 3.15
  line L94 (24.6556, 25.8542) -> (20.4541, 20.0072)
  line L95 (43.5187, -14.25) -> (43.5187, -16.25)
  arc A134 (43.5187, -16.25) -> (44.5187, -16.25) centre (44.0187, -16.25) ccw
  line L96 (44.5187, -16.25) -> (53.5187, -16.25)
  arc A135 (53.5187, -16.25) -> (54.5187, -16.25) centre (54.0187, -16.25) ccw
  line L97 (54.5187, -16.25) -> (54.5187, -14.25)
  arc A136 (54.5187, -14.25) -> (53.5187, -14.25) centre (54.0187, -14.25) ccw
  line L98 (53.5187, -14.25) -> (44.5187, -14.25)
  arc A137 (44.5187, -14.25) -> (43.5187, -14.25) centre (44.0187, -14.25) ccw
  circle A138 centre (37.0593, -10) radius 1
  circle A139 centre (57.0593, -10) radius 1
  line L99 (58.6187, -7.75) -> (65.1187, -7.75)
  arc A140 (65.1187, -7.75) -> (65.1187, -4.75) centre (65.1187, -6.25) ccw
  line L100 (65.1187, -4.75) -> (58.6187, -4.75)
  arc A141 (58.6187, -4.75) -> (58.6187, -7.75) centre (58.6187, -6.25) ccw
  circle A142 centre (69.95, -15.25) radius 1.55
  arc A143 (8.7852, 24.3068) -> (9.9324, 22.6685) centre (9.3588, 23.4876) ccw
  arc A144 (11.9802, 24.1024) -> (10.8331, 25.7407) centre (11.4067, 24.9216) ccw
  circle A145 centre (15.25, 15.25) radius 3.15
  line L101 (11.9802, 24.1024) -> (9.9324, 22.6685)
  arc A146 (24.6556, 25.8542) -> (22.3006, 27.5465) centre (23.4781, 26.7004) ccw
  circle A147 centre (15.25, 15.25) radius 2.25
  line L102 (18.0991, 21.6995) -> (22.3006, 27.5465)
  line L103 (-18.0988, 21.6995) -> (-22.3003, 27.5465)
  line L104 (8.7852, 24.3068) -> (10.8331, 25.7407)
  circle A148 centre (28.2502, 15.25) radius 1.55
  arc A149 (18.0991, 21.6995) -> (20.4541, 20.0072) centre (19.2766, 20.8534) ccw
  arc A150 (-13.542, -8.3985) -> (-12.661, -7.2587) centre (-13.5284, -7.4986) ccw
  line L105 (-13.542, -8.3985) -> (-20.4275, -8.2673)
  arc A151 (-20.8836, -6.6042) -> (-20.4275, -8.2673) centre (-20.4067, -7.3675) ccw
  line L106 (-20.8836, -6.6042) -> (-15.1632, -3.0306)
  arc A152 (-13.6696, -3.6122) -> (-15.1632, -3.0306) centre (-14.6334, -3.8788) ccw
  line L107 (-13.6696, -3.6122) -> (-12.661, -7.2587)
  arc A153 (-19.2192, -0.8481) -> (-19.2192, 0.8481) centre (-19.749, 0) ccw
  line L108 (-19.2192, -0.8481) -> (-25.6692, -4.8775)
  arc A154 (-27.1605, -4.3044) -> (-25.6692, -4.8775) centre (-26.199, -4.0294) ccw
  line L109 (-27.1605, -4.3044) -> (-28.3132, -0.275)
  arc A155 (-28.3132, 0.275) -> (-28.3132, -0.275) centre (-27.3517, 0) ccw
  line L110 (-28.3132, 0.275) -> (-27.1605, 4.3044)
  arc A156 (-25.6692, 4.8775) -> (-27.1605, 4.3044) centre (-26.199, 4.0294) ccw
  line L111 (-25.6692, 4.8775) -> (-19.2192, 0.8481)
  circle A157 centre (-57.059, -10) radius 1.55
  circle A158 centre (-28.2498, -15.25) radius 1.55
  arc A159 (-31.6059, -1.9507) -> (-33.0971, -1.3777) centre (-32.5673, -2.2258) ccw
  line L112 (-31.6059, -1.9507) -> (-30.3675, -6.2794)
  arc A160 (-31.4843, -7.5423) -> (-30.3675, -6.2794) centre (-31.329, -6.5544) ccw
  line L113 (-31.4843, -7.5423) -> (-38.0092, -6.5163)
  arc A161 (-38.3837, -4.6803) -> (-38.0092, -6.5163) centre (-37.8539, -5.5284) ccw
  line L114 (-38.3837, -4.6803) -> (-33.0971, -1.3777)
  circle A162 centre (-15.25, -15.25) radius 2.25
  circle A163 centre (27.5042, 32.3038) radius 3.15
  circle A164 centre (27.5042, 32.3038) radius 2.25
  circle A165 centre (-27.5042, 32.3038) radius 2.25
  line L115 (-24.6553, -25.8542) -> (-20.4538, -20.0072)
  circle A166 centre (-27.5042, 32.3038) radius 3.15
  circle A167 centre (-9.9998, -10) radius 1.55
  circle A168 centre (-37.059, -10) radius 1.55
  circle A169 centre (-15.25, -15.25) radius 3.15
  point P0 (-74.0519, 11.382)
  point P1 (-74.0519, -11.382)
  point P2 (-21.4136, -36.6803)
  point P3 (21.3077, -36.5329)
  point P4 (33.8239, -28.265)
  point P5 (69.95, -19.25)
  point P6 (75.3578, -5.9597)
  point P7 (72.8337, -3.7752)
  point P8 (72.8337, 3.7752)
  point P9 (73.7452, 4.8231)
  point P10 (75.3578, 5.9597)
  point P11 (73.8582, 16.102)
  point P12 (69.95, 19.25)
  point P13 (33.327, 27.1322)
  point P14 (33.8239, 28.265)
  point P15 (-21.4136, 36.6803)
  point P16 (-33.8239, 28.265)
  point P17 (-33.327, 27.1322)
extrude "fill my holes daddy" add sketch "Sketch1" along normal blind 3 contours A33 A32 L17 A31 L16 A30 A29 L15 A28 L14 A27 L13 A26 L12 A25 L11 A24 L10 A23 A22 L9 A21 L8 A20 A19 A18 L7 A17 L6 A16 A15 A14 L5 A13 A12 A11 L4 A10 A9 A8 L3 A7 A6 A5 L2 A4 A3 A2 L1 A1 L0 A0 | L31 A46 L18 A35 | A37 L20 A36 L19 | L21 A38 L115 A40 | A42 L23 A41 L22 | L24 A43 L25 A44 L26 A45 | A51 L30 A50 L29 A49 L28 A48 L27 | L103 A75 L54 A53 | L32 A76 L48 A80 | A58 L36 A57 L35 A56 L34 A55 L33 | L37 A62 L38 A63 L39 A61 | L40 A64 L41 A65 | A69 L45 A68 L44 A67 L43 A66 L42 | L49 A73 L50 A74 L51 A72 | L55 A82 L56 A83 | L57 A85 L58 A86 L59 A87 L60 A84 | L61 A89 L62 A90 L63 A91 L64 A88 | L65 A117 L84 A119 | L66 A118 L83 A97 | L67 A99 L68 A100 L69 A98 | L70 A101 L71 A102 L72 A103 L73 A104 | L74 A105 L75 A106 L76 A107 L77 A108 | L78 A110 L79 A111 L80 A109 | E0 A115 L81 A116 L82 A113 | L93 A131 E1 A130 L92 A114 | L85 A124 L86 A125 L87 A126 L88 A123 | L89 A127 L90 A128 L91 A129 | L94 A149 L102 A146 | A137 L98 A136 L97 A135 L96 A134 L95 | A141 L100 A140 L99 | L104 A144 L101 A143 | L105 A151 L106 A152 L107 A150 | L108 A154 L109 A155 L110 A156 L111 A153 | L112 A160 L113 A161 L114 A159
sketch "Sketch2" plane through (0, 0, 0) normal (0, -1, 0) x (1, 0, 0)
  circle A0 centre (-37.0593, 10) radius 1 projected
  circle A1 centre (-37.0593, -10) radius 1 projected
  circle A2 centre (-57.0593, -10) radius 1 projected
  circle A3 centre (-57.0593, 10) radius 1 projected
  circle A4 centre (-37.0593, 10) radius 1 construction
  circle A5 centre (-37.0593, -10) radius 1 construction
  line L0 (-37.0593, 10) -> (-37.0593, -10) construction
  line L1 (-37.0593, -10) -> (-37.0593, 0) construction
  circle A6 centre (-37.0593, 10) radius 1.55
  circle A7 centre (-57.0593, 10) radius 1.55
  circle A8 centre (-37.0593, -10) radius 1.55
  circle A9 centre (-57.0593, -10) radius 1.55
  point P0 (0, 0)
  dimension "d2" = 3.1
  dimension "d3" = 3.1
  dimension "d4" = 3.1
  dimension "d5" = 3.1
extrude "3m holes in the frunk" cut sketch "Sketch2" against normal through all contours A0 | A1 | A2 | A3 | A6 | A7 | A8 | A9
properties part number "center plate"
